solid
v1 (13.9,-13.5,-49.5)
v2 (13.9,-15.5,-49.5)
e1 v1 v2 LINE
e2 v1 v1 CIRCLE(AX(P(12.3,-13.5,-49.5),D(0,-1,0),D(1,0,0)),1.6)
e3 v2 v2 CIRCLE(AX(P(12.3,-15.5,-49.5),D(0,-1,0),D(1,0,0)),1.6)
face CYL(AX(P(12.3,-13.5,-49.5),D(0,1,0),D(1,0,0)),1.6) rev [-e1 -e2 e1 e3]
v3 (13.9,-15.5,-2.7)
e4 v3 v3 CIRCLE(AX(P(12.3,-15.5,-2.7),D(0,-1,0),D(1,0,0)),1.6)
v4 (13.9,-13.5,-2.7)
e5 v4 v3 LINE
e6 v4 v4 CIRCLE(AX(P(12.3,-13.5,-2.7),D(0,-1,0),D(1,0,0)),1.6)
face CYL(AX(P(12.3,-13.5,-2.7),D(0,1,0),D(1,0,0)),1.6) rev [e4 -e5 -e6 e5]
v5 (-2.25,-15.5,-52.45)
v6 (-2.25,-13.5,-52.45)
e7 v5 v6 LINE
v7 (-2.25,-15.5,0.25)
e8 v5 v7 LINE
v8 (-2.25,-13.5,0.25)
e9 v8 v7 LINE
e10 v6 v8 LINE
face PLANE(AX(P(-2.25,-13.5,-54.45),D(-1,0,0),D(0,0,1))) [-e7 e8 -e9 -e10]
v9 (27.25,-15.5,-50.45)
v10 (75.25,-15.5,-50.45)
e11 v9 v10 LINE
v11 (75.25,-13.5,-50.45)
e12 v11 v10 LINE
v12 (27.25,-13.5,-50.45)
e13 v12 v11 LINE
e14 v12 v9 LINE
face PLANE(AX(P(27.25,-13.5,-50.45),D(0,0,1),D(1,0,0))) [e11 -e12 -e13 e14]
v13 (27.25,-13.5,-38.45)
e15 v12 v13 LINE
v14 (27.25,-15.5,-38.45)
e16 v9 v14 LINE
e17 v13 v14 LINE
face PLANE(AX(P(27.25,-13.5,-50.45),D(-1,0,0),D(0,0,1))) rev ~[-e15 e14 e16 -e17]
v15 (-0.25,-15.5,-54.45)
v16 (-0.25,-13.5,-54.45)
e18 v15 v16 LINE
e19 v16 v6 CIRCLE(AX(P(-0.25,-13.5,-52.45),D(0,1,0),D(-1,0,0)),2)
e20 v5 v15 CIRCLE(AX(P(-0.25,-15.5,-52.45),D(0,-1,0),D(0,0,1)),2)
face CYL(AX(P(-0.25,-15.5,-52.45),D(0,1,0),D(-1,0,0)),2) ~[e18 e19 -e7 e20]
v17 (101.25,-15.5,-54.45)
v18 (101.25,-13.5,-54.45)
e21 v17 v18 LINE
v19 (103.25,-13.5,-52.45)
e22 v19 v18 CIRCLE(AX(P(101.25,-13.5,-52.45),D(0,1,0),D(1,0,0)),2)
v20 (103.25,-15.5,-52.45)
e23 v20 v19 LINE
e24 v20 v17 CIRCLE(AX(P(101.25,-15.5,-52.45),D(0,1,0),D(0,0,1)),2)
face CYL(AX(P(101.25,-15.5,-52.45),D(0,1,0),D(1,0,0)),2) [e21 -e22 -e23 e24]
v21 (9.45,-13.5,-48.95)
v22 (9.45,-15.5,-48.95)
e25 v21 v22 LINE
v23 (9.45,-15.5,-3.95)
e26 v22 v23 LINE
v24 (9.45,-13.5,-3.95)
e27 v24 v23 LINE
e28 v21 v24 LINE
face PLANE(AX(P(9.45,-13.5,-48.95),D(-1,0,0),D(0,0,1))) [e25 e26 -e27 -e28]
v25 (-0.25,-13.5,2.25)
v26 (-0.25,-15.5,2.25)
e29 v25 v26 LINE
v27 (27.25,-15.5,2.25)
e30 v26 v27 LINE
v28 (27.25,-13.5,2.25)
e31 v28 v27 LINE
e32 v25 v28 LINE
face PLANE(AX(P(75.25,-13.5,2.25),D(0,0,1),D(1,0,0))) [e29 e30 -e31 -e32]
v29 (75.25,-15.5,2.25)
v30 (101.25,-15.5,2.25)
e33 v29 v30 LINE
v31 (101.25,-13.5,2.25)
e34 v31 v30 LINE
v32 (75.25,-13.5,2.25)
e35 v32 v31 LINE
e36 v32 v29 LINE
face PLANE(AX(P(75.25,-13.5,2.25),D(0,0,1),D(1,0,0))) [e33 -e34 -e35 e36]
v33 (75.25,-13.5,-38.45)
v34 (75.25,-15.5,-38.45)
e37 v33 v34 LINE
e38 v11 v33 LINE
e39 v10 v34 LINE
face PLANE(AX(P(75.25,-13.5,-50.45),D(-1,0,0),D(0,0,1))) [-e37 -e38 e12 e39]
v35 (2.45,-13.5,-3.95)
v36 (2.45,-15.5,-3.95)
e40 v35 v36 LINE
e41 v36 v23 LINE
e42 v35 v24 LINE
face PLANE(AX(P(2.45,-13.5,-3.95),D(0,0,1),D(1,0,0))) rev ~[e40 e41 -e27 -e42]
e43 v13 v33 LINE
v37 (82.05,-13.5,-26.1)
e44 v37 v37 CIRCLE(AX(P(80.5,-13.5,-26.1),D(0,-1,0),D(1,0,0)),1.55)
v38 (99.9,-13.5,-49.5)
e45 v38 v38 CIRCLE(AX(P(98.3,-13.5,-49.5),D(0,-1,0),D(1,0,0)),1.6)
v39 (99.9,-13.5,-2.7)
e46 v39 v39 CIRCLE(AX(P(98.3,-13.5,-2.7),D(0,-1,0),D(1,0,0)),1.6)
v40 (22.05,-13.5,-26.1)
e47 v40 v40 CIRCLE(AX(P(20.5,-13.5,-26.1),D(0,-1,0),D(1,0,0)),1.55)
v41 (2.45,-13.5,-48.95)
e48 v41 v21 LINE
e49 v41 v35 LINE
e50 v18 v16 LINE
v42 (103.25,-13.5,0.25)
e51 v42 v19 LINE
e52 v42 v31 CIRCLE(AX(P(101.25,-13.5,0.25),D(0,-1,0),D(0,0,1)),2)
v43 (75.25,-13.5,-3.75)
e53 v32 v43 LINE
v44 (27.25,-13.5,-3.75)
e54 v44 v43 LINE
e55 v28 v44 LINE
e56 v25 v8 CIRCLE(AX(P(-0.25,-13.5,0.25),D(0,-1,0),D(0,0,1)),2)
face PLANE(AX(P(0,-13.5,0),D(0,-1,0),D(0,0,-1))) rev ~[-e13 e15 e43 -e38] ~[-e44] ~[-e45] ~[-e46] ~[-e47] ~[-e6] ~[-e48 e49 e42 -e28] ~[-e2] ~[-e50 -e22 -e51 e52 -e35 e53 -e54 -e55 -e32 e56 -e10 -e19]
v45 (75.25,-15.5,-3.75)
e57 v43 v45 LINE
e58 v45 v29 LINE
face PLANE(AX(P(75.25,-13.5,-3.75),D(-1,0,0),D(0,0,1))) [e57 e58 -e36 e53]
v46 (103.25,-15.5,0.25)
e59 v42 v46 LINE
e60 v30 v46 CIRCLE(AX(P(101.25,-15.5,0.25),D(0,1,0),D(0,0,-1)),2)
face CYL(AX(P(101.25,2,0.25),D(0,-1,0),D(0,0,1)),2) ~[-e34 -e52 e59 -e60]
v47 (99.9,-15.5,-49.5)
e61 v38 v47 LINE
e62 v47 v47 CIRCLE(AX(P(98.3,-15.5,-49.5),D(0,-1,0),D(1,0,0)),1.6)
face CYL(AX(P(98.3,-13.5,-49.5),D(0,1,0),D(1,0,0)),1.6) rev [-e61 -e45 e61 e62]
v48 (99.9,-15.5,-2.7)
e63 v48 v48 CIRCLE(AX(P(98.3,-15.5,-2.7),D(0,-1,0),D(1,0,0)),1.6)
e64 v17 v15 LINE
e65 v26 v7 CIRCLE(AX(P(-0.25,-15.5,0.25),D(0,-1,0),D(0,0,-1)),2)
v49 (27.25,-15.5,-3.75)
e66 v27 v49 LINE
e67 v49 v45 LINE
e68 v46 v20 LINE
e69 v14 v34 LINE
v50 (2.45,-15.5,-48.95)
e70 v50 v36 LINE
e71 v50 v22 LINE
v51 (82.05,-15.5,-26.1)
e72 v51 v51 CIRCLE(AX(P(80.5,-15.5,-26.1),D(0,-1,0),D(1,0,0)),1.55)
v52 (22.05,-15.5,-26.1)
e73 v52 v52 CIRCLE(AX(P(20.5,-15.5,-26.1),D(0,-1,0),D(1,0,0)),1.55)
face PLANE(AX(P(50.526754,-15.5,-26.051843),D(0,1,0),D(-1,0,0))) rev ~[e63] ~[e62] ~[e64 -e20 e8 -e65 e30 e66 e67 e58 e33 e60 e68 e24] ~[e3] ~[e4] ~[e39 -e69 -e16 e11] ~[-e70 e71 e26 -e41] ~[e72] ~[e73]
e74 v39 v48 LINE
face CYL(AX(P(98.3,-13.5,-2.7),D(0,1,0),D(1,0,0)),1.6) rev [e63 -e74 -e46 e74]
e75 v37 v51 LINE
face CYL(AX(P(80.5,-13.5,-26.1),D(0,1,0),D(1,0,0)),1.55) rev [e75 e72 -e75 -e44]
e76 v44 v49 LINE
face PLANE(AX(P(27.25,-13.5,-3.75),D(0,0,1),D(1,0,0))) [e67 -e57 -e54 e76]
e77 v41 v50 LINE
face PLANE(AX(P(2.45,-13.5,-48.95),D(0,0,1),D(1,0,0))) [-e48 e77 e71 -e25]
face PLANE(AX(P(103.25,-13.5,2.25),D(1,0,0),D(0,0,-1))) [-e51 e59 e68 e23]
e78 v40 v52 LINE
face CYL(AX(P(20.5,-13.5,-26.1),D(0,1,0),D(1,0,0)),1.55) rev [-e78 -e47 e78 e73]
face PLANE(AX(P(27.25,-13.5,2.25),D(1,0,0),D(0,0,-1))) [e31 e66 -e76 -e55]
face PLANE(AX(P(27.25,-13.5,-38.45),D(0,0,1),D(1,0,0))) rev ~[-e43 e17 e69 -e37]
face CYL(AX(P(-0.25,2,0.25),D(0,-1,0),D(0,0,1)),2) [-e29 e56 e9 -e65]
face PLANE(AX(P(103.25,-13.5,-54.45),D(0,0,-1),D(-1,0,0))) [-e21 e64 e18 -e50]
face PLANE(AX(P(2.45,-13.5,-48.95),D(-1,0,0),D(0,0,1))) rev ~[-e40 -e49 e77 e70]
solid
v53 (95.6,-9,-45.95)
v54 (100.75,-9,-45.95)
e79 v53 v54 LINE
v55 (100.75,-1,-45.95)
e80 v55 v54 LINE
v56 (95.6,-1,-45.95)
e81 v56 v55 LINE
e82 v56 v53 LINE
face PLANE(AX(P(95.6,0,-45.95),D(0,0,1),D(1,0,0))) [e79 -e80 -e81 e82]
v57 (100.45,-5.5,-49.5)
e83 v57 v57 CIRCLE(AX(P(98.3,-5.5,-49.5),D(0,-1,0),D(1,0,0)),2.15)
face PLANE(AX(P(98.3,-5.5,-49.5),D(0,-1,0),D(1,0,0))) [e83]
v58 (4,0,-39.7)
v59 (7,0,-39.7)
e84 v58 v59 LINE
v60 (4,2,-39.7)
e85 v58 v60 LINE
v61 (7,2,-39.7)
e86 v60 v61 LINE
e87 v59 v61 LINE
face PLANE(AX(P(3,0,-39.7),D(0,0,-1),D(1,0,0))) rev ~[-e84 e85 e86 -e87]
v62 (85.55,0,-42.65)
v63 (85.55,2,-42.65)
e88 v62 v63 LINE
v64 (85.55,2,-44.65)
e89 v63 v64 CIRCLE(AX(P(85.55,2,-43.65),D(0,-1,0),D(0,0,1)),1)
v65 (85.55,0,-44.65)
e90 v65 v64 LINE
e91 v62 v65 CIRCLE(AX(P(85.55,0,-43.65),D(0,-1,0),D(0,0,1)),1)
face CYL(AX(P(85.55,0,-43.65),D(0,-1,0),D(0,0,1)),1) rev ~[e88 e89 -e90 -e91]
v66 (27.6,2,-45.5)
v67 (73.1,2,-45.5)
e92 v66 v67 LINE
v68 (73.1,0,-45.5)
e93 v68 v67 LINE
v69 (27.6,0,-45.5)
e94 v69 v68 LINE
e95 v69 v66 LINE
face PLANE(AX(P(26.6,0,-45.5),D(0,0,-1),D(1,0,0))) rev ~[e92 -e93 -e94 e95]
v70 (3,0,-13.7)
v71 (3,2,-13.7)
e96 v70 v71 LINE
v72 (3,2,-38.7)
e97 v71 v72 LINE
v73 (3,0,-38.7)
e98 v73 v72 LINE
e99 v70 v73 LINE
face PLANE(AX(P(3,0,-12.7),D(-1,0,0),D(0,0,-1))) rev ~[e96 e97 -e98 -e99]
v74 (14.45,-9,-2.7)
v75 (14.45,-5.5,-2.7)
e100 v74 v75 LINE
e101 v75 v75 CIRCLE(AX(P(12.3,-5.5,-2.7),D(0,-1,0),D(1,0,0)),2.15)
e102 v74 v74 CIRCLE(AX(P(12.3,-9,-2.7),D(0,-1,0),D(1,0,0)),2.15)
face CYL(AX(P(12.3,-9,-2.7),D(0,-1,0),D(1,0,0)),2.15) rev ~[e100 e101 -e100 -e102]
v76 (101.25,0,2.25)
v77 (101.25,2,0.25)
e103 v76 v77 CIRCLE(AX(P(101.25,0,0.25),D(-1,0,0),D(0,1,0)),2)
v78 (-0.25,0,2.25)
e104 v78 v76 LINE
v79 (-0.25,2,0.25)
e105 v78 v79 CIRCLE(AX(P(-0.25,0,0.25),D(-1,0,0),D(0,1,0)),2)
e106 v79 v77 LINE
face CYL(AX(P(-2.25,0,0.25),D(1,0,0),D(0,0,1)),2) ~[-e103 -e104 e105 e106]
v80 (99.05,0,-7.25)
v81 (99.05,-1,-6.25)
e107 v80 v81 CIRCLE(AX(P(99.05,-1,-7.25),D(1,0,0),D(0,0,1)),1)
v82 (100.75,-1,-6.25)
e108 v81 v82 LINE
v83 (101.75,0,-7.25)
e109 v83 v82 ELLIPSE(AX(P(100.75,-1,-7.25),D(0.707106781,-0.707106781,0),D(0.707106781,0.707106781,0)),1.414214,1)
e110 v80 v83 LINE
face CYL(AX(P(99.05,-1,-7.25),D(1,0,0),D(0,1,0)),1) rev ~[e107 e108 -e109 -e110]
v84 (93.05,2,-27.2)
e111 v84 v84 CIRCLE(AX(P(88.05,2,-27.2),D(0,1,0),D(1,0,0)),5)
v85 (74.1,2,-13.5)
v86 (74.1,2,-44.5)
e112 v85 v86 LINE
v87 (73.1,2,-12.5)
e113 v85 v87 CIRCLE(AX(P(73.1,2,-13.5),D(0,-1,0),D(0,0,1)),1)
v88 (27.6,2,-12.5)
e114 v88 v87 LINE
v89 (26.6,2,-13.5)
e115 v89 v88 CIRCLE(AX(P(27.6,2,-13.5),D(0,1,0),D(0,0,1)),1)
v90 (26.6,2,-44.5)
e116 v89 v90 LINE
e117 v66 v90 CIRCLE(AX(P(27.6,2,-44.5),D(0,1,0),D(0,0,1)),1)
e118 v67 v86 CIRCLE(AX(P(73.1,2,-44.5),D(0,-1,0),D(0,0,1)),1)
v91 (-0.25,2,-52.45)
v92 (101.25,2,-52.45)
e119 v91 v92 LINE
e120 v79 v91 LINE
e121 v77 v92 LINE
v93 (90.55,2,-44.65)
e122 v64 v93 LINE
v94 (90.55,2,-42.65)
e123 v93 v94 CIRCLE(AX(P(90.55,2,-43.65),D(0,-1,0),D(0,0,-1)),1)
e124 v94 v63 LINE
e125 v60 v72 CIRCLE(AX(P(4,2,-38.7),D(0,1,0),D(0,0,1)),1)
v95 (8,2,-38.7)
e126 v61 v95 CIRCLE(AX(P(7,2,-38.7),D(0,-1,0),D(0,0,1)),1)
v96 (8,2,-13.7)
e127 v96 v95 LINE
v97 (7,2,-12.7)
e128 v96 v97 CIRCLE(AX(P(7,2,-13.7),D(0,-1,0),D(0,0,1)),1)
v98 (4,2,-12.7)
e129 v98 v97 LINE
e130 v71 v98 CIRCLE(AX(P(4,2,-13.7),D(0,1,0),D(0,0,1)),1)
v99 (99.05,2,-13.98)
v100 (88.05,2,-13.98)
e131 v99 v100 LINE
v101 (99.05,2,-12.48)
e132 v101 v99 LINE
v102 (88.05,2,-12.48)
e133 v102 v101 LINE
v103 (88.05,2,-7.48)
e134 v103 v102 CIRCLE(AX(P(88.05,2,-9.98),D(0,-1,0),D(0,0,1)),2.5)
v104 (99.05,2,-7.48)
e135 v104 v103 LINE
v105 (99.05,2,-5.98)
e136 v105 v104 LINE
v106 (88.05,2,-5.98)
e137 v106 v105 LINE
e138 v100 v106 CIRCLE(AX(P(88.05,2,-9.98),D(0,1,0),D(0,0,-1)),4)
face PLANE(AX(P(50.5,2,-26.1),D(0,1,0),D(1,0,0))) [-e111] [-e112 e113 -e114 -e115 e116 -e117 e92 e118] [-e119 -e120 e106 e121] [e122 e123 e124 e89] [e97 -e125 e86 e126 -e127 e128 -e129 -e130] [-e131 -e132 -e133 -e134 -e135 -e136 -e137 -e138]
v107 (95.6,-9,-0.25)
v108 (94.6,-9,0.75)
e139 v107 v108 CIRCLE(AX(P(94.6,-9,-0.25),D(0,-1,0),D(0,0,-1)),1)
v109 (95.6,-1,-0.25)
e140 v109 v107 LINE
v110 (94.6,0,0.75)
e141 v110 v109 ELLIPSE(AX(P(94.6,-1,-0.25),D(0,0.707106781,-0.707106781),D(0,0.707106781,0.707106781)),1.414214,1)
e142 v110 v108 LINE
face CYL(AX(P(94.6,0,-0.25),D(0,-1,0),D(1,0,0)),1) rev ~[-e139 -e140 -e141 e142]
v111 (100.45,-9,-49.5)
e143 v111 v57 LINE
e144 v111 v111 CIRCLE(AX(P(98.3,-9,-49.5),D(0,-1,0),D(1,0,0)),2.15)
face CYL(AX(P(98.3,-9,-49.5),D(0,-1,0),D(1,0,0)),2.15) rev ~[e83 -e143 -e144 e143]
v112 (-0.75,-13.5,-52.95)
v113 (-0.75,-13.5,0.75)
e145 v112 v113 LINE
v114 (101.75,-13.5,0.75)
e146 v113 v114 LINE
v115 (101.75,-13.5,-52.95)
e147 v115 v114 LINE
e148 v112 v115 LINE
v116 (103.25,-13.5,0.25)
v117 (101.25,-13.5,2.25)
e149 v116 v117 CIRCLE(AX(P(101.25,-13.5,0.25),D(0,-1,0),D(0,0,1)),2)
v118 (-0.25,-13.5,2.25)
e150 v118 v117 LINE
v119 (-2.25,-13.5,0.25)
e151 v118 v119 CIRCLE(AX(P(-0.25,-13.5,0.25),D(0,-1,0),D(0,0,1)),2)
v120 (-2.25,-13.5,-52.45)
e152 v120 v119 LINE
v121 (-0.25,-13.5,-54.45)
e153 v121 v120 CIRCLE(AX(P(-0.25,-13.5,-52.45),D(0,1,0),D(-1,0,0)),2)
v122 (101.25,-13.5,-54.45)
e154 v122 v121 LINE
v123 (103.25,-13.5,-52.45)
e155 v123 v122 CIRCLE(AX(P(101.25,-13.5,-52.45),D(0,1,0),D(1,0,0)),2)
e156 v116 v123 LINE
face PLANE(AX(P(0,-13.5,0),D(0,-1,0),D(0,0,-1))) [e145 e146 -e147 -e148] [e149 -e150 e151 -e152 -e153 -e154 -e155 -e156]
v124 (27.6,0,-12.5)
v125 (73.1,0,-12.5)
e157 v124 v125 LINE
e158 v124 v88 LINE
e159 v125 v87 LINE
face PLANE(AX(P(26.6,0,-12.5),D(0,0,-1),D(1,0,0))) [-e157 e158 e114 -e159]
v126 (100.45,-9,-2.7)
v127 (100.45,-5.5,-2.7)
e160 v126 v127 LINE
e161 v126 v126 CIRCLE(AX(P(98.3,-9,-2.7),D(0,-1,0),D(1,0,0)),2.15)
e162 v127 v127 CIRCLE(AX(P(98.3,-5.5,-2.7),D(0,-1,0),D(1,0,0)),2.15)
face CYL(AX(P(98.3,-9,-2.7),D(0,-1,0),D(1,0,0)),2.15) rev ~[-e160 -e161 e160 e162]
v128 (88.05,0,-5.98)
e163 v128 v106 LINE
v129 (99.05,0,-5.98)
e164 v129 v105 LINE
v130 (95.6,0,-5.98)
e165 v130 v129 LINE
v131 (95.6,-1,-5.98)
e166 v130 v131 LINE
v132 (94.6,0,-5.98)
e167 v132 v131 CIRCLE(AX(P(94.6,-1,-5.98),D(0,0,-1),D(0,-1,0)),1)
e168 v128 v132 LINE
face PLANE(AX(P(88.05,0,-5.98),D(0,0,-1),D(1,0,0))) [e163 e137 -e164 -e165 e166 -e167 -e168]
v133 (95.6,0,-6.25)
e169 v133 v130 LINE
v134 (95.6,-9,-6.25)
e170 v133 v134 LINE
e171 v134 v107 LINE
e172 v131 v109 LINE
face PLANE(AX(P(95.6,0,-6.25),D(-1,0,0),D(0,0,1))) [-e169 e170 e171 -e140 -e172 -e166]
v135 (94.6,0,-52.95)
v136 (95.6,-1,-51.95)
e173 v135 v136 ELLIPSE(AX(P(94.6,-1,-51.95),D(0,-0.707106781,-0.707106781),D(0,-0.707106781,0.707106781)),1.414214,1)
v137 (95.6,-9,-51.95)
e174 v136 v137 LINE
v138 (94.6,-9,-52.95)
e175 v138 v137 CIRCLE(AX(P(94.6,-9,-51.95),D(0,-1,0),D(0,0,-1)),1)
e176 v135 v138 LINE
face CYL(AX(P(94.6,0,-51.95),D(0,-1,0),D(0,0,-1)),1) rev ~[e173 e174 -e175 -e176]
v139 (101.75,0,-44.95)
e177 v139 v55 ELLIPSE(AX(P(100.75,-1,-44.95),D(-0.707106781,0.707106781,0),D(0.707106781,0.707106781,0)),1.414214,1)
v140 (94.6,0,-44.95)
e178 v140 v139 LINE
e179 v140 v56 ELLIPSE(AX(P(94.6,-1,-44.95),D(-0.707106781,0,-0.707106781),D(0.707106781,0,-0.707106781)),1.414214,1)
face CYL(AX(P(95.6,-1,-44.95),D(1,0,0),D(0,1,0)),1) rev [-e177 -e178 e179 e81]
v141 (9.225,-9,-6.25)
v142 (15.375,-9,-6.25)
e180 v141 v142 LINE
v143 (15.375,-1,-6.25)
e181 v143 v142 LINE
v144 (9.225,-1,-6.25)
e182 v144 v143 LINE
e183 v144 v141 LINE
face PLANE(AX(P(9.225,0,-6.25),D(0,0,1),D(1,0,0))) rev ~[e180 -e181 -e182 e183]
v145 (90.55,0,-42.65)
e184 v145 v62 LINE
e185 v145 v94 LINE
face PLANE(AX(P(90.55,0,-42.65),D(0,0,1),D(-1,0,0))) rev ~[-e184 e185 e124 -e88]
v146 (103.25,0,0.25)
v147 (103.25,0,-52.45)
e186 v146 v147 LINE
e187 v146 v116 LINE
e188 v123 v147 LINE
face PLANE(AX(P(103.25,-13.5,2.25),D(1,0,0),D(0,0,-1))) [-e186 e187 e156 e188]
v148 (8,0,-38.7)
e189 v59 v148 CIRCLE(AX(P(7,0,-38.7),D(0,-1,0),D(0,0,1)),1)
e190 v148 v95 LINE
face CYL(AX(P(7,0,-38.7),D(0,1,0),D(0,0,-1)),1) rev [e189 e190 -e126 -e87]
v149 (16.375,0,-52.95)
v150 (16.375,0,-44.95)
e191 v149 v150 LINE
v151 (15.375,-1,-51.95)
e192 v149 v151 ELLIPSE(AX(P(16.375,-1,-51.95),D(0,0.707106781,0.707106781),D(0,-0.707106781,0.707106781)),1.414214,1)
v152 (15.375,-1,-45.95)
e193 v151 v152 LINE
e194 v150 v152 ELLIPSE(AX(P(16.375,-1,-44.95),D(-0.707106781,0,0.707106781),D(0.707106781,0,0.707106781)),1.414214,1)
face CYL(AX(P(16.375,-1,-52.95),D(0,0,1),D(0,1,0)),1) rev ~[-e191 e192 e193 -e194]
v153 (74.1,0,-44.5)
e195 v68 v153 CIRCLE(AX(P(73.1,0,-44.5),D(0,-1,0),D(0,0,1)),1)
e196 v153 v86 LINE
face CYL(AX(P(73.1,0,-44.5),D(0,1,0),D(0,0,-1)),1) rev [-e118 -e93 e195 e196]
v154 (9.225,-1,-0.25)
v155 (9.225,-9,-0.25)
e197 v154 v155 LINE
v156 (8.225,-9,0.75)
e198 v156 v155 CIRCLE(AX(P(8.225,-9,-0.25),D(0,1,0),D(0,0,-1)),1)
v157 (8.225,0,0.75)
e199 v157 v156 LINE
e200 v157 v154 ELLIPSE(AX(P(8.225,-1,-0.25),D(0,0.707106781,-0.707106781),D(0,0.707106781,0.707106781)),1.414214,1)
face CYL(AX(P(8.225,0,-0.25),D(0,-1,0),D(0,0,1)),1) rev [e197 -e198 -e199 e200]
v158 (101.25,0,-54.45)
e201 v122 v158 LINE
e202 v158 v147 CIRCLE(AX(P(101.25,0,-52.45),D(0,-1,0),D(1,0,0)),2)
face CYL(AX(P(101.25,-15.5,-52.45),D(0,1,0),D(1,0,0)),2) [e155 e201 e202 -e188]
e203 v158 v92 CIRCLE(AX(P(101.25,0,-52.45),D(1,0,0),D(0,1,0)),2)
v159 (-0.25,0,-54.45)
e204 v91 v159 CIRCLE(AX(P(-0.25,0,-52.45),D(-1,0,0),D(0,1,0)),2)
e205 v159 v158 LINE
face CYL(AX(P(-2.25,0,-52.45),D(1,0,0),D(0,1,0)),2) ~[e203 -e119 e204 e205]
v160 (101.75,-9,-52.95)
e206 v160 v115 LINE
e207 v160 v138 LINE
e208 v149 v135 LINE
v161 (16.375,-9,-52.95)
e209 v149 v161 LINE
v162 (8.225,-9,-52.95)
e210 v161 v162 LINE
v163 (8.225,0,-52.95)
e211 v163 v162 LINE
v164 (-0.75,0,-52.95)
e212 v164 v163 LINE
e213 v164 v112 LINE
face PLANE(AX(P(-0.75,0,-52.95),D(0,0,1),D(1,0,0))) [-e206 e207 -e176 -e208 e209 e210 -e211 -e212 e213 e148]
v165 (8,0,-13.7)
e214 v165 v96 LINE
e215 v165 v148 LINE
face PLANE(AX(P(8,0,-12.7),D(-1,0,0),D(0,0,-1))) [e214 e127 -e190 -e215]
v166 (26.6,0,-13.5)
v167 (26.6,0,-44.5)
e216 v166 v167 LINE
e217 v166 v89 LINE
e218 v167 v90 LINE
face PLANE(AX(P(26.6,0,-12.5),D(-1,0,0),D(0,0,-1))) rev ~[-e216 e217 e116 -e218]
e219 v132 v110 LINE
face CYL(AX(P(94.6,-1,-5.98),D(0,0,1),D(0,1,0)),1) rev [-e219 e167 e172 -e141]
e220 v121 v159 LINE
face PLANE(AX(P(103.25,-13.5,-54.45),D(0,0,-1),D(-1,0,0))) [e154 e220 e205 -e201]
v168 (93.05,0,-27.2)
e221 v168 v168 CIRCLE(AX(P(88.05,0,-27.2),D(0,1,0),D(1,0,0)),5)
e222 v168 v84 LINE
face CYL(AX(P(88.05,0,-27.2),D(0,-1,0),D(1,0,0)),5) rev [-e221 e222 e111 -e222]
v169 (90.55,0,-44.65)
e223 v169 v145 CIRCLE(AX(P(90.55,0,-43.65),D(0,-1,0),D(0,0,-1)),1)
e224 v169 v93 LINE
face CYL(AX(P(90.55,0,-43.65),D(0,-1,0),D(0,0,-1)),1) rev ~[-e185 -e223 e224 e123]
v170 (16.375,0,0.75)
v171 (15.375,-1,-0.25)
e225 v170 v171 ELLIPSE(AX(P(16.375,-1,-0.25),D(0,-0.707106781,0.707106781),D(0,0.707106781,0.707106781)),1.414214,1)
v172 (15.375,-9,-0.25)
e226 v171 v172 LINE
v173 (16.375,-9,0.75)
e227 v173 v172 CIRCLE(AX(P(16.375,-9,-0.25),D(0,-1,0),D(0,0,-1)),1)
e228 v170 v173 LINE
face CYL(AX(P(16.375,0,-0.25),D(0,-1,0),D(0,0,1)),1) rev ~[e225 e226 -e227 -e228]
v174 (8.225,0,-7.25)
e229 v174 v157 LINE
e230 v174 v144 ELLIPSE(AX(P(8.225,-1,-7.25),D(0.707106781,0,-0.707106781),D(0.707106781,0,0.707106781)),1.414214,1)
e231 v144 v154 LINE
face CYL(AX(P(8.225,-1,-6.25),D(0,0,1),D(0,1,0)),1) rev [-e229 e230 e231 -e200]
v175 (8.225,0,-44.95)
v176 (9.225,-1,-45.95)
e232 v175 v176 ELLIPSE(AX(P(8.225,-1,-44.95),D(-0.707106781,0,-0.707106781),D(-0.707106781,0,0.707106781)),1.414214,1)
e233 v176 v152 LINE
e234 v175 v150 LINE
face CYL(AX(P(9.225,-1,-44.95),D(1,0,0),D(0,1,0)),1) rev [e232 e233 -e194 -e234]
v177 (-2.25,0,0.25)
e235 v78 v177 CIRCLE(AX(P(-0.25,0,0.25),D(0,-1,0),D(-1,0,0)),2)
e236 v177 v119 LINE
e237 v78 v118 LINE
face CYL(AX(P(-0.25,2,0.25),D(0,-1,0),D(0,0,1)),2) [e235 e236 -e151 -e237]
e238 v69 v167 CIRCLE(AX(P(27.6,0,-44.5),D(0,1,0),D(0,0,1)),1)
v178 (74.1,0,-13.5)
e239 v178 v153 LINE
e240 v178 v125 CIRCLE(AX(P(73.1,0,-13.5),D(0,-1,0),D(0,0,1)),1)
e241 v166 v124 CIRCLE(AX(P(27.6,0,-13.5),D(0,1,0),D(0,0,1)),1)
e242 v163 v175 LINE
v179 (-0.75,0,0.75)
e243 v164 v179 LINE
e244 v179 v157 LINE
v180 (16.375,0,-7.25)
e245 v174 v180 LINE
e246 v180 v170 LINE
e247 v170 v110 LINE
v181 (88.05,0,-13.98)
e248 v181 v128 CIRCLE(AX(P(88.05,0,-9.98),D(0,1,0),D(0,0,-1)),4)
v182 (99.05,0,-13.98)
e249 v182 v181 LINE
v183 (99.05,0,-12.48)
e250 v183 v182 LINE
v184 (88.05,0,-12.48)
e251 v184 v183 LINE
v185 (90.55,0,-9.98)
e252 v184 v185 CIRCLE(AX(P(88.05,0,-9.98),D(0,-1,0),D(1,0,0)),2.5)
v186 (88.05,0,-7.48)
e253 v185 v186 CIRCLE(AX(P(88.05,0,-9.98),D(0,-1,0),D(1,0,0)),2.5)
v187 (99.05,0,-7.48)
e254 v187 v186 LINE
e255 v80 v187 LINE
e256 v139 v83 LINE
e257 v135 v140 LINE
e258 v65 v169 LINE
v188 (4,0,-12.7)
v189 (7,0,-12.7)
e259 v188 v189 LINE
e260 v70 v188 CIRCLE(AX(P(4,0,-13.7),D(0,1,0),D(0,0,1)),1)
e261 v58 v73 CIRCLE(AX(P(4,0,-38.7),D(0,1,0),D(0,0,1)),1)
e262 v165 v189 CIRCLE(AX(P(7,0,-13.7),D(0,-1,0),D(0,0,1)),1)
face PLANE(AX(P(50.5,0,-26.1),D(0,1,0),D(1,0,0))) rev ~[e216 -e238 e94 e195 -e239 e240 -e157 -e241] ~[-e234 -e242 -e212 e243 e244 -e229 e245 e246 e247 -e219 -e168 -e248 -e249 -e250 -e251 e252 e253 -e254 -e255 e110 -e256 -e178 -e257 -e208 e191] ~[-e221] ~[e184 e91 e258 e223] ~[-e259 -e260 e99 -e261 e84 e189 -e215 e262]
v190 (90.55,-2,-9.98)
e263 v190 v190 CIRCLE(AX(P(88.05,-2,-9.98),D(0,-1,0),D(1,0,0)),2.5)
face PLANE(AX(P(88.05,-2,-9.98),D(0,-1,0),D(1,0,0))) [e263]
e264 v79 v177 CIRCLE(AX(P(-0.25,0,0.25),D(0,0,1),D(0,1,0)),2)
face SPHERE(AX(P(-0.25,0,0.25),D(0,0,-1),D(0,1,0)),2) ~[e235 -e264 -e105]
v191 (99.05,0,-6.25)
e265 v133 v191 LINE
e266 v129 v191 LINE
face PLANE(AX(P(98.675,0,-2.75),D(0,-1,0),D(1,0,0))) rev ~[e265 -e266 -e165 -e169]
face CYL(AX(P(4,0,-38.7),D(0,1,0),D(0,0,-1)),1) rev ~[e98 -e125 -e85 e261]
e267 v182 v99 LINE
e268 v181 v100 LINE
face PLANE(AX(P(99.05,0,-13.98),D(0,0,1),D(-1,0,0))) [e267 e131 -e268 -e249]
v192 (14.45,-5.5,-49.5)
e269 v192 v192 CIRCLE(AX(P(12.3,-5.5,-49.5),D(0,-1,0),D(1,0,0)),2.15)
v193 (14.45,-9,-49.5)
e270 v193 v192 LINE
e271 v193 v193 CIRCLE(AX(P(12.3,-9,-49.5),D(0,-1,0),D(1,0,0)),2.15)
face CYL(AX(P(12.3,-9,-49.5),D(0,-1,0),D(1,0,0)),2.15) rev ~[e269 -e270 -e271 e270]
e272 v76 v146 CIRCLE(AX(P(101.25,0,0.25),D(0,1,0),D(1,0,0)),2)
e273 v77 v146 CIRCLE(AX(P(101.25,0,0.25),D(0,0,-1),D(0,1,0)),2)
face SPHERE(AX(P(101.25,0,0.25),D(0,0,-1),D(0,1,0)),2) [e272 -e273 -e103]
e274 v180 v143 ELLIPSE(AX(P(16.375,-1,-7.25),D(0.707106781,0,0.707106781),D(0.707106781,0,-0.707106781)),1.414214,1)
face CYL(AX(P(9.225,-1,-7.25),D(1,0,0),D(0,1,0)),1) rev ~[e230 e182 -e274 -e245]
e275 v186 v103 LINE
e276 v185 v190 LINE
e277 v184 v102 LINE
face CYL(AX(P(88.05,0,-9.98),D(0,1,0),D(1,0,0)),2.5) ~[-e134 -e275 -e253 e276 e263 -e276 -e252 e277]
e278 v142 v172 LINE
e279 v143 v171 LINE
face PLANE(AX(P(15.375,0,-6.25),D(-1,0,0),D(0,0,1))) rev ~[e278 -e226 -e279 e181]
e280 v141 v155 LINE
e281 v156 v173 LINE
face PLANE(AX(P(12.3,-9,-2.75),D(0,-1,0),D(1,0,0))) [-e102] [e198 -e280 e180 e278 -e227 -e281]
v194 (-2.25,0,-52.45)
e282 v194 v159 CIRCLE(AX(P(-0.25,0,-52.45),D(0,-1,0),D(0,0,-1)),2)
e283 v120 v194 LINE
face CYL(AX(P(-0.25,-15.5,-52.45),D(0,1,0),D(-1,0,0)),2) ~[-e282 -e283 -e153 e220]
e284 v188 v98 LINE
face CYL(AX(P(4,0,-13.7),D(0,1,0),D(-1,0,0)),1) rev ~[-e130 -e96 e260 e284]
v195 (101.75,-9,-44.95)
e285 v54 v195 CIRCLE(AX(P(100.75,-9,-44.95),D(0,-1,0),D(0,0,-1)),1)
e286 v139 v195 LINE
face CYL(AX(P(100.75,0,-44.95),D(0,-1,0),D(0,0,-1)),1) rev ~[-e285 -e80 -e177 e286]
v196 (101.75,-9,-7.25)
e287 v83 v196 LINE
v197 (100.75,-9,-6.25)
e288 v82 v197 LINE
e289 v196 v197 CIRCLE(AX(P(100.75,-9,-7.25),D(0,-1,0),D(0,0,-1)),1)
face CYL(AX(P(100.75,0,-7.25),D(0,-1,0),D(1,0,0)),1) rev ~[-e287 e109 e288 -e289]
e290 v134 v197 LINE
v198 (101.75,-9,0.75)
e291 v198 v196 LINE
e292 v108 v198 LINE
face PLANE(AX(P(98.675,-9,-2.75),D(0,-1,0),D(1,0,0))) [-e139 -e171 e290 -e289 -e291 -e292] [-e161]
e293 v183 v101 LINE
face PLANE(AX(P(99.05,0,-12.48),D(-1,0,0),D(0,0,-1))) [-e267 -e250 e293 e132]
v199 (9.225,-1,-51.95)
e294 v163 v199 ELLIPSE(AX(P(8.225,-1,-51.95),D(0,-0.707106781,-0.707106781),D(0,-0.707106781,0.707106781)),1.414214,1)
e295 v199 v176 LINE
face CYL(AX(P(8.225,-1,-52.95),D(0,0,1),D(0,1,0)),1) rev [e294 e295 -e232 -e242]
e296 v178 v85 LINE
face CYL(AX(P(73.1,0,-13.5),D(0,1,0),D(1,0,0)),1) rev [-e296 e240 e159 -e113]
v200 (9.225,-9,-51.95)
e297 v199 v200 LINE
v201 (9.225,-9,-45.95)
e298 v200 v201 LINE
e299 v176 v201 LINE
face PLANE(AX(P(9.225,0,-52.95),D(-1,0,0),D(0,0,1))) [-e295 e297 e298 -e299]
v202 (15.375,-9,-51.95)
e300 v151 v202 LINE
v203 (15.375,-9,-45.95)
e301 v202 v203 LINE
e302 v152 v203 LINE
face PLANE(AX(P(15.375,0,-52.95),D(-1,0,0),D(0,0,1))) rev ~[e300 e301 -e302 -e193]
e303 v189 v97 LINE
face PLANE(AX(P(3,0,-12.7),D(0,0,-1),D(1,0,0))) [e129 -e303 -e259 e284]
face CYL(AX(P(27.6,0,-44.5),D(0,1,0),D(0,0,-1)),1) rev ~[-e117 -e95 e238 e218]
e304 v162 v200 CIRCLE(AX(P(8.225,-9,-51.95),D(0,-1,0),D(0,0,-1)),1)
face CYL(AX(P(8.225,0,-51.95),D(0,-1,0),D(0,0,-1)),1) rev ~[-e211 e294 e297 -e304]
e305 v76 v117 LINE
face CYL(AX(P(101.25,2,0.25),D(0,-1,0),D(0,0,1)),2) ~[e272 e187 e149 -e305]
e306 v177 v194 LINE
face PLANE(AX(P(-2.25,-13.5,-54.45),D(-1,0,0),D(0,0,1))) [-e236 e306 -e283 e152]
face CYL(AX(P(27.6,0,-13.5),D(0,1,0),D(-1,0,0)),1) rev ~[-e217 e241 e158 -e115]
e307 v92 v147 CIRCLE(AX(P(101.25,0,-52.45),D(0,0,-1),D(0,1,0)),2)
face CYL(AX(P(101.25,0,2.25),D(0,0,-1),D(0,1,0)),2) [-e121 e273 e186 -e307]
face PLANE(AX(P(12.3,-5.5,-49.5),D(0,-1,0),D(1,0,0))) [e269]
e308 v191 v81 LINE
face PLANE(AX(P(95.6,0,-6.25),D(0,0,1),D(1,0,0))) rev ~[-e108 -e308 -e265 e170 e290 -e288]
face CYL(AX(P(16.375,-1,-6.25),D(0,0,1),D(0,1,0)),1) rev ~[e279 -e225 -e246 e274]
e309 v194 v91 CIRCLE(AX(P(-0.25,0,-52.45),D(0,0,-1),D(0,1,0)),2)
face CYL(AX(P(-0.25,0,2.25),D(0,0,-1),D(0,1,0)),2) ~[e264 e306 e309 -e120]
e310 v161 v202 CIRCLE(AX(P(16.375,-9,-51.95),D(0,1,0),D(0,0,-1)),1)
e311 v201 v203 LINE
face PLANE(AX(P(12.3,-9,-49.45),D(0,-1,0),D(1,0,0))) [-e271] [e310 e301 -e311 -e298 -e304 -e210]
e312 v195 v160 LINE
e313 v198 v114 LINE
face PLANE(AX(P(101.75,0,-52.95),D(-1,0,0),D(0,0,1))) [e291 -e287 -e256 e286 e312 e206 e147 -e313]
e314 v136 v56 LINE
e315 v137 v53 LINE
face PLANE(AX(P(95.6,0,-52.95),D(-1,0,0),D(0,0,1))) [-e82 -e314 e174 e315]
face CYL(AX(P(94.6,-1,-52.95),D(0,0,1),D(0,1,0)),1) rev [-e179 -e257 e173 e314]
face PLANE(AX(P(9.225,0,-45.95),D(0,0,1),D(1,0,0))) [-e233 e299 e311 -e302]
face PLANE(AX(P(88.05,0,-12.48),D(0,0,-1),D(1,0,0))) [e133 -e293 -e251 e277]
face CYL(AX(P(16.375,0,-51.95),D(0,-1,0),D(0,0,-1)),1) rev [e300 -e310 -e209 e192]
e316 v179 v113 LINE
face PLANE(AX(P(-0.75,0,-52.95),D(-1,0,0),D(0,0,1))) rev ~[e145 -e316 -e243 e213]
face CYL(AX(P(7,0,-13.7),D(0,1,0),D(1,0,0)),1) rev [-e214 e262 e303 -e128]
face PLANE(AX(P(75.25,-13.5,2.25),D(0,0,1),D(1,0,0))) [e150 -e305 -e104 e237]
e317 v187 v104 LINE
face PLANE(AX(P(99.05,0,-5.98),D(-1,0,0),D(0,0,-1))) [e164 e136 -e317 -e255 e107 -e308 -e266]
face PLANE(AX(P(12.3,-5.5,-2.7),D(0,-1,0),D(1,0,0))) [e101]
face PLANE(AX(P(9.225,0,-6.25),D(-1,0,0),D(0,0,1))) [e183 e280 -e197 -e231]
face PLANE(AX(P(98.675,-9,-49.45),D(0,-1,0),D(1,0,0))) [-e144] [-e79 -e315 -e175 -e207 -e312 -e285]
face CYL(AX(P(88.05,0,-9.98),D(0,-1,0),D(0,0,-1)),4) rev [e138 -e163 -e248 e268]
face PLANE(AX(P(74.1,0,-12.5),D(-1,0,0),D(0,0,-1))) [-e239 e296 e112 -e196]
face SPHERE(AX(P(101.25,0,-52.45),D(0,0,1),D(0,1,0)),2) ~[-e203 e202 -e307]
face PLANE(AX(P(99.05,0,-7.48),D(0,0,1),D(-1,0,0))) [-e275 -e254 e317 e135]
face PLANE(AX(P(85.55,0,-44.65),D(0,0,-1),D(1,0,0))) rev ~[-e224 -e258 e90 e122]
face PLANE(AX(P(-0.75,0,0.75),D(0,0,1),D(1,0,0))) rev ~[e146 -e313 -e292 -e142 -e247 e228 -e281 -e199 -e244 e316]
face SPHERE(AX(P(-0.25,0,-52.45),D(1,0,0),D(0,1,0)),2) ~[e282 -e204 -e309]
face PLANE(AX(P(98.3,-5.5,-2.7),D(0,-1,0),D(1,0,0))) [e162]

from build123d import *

# Parameters (mm, degrees)
CROQUIS1_W               = 105.5
CROQUIS1_H               = 56.7
CROQUIS1_R               = 5
CROQUIS1_W_2             = 47.5
CROQUIS1_H_2             = 33
CROQUIS1_W_3             = 5
CROQUIS1_H_3             = 27
SALIENTE_EXTRUIR1_DEPTH  = 2
CROQUIS5_W               = 105.5
CROQUIS5_H               = 56.7
CROQUIS5_W_2             = 102.5
CROQUIS5_H_2             = 53.7
SALIENTE_EXTRUIR4_DEPTH  = 13.5
CROQUIS6_R               = 1.6
CROQUIS6_R_2             = 1.55
CROQUIS6_W               = 7
CROQUIS6_H               = 45
CROQUIS6_W_2             = 48
CROQUIS6_H_2             = 12
SALIENTE_EXTRUIR5_DEPTH  = 2
CROQUIS8_W               = 6.15
CROQUIS8_H               = 7
SALIENTE_EXTRUIR13_DEPTH = 9
CROQUIS9_R               = 2.15
CORTAR_EXTRUIR2_DEPTH    = 3.5
REDONDEO4_R              = 2
REDONDEO6_R              = 1
REDONDEO7_R              = 1
CROQUIS10_R              = 2.5
SALIENTE_EXTRUIR14_DEPTH = 2


with BuildPart() as part:
    # Croquis1 → Saliente-Extruir1 (new body)
    with BuildSketch(Plane(origin=(0, 0, 0), x_dir=(1, 0, 0), z_dir=(0, 1, 0))):
        with Locations((50.5, 26.1)):
            Rectangle(CROQUIS1_W, CROQUIS1_H)
        with Locations((88.05, 27.2)):
            Circle(CROQUIS1_R, mode=Mode.SUBTRACT)
        with Locations((50.35, 29)):
            Rectangle(CROQUIS1_W_2, CROQUIS1_H_2, mode=Mode.SUBTRACT)
        with Locations((5.5, 26.2)):
            Rectangle(CROQUIS1_W_3, CROQUIS1_H_3, mode=Mode.SUBTRACT)
        with BuildLine():
            Line((88.05, 12.48), (99.05, 12.48))
            Line((99.05, 12.48), (99.05, 13.98))
            Line((99.05, 13.98), (88.05, 13.98))
            ThreePointArc((88.05, 13.98), (84.05, 9.98), (88.05, 5.98))
            Line((88.05, 5.98), (99.05, 5.98))
            Line((99.05, 5.98), (99.05, 7.48))
            Line((99.05, 7.48), (88.05, 7.48))
            ThreePointArc((88.05, 7.48), (85.55, 9.98), (88.05, 12.48))
        make_face(mode=Mode.SUBTRACT)
        with BuildLine():
            Line((90.55, 42.65), (85.55, 42.65))
            ThreePointArc((85.55, 42.65), (84.55, 43.65), (85.55, 44.65))
            Line((85.55, 44.65), (90.55, 44.65))
            ThreePointArc((90.55, 44.65), (91.55, 43.65), (90.55, 42.65))
        make_face(mode=Mode.SUBTRACT)
    extrude(amount=SALIENTE_EXTRUIR1_DEPTH)

    # Croquis5 → Saliente-Extruir4 (add)
    with BuildSketch(Plane.XZ):
        with Locations((50.5, -26.1)):
            Rectangle(CROQUIS5_W, CROQUIS5_H)
        with Locations((50.5, -26.1)):
            Rectangle(CROQUIS5_W_2, CROQUIS5_H_2, mode=Mode.SUBTRACT)
    extrude(amount=SALIENTE_EXTRUIR4_DEPTH)

    # Croquis6 → Saliente-Extruir5 (add)
    with BuildSketch(Plane.XZ.offset(13.5)):
        Polygon((103.25, 2.25), (103.25, -54.45), (-2.25, -54.45), (-2.25, 2.25), (27.25, 2.25), (27.25, -3.75), (75.25, -3.75), (75.25, 2.25), align=None)
        with Locations((12.3, -49.5)):
            Circle(CROQUIS6_R, mode=Mode.SUBTRACT)
        with Locations((98.3, -2.7)):
            Circle(CROQUIS6_R, mode=Mode.SUBTRACT)
        with Locations((98.3, -49.5)):
            Circle(CROQUIS6_R, mode=Mode.SUBTRACT)
        with Locations((12.3, -2.7)):
            Circle(CROQUIS6_R, mode=Mode.SUBTRACT)
        with Locations((80.5, -26.1)):
            Circle(CROQUIS6_R_2, mode=Mode.SUBTRACT)
        with Locations((20.5, -26.1)):
            Circle(CROQUIS6_R_2, mode=Mode.SUBTRACT)
        with Locations((5.95, -26.45)):
            Rectangle(CROQUIS6_W, CROQUIS6_H, mode=Mode.SUBTRACT)
        with Locations((51.25, -44.45)):
            Rectangle(CROQUIS6_W_2, CROQUIS6_H_2, mode=Mode.SUBTRACT)
    extrude(amount=SALIENTE_EXTRUIR5_DEPTH)

    # Croquis8 → Saliente-Extruir13 (add)
    with BuildSketch(Plane.XZ):
        with Locations((12.3, -2.75)):
            Rectangle(CROQUIS8_W, CROQUIS8_H)
        with Locations((98.675, -2.75)):
            Rectangle(CROQUIS8_W, CROQUIS8_H)
        with Locations((12.3, -49.45)):
            Rectangle(CROQUIS8_W, CROQUIS8_H)
        with Locations((98.675, -49.45)):
            Rectangle(CROQUIS8_W, CROQUIS8_H)
    extrude(amount=SALIENTE_EXTRUIR13_DEPTH)

    # Croquis9 → Cortar-Extruir2 (cut)
    with BuildSketch(Plane.XZ.offset(9)):
        with Locations((12.3, -2.7)):
            Circle(CROQUIS9_R)
        with Locations((98.3, -2.7)):
            Circle(CROQUIS9_R)
        with Locations((98.3, -49.5)):
            Circle(CROQUIS9_R)
        with Locations((12.3, -49.5)):
            Circle(CROQUIS9_R)
    extrude(amount=-CORTAR_EXTRUIR2_DEPTH, mode=Mode.SUBTRACT)

    # Redondeo4
    redondeo4_edges = [part.edges().sort_by_distance(p)[0] for p in [
        (103.25, 2, -26.1),
        (50.5, 2, -54.45),
        (-2.25, 2, -26.1),
        (50.5, 2, 2.25),
        (-2.25, -6.75, -54.45),
        (103.25, -6.75, -54.45),
        (103.25, -6.75, 2.25),
        (-2.25, -6.75, 2.25),
    ]]
    fillet(redondeo4_edges, radius=REDONDEO4_R)


with BuildPart() as body_2:
    # Partir1: the piece on the far side of the plane
    add(part.part)
    split(bisect_by=Plane(origin=(0, -13.5, 0), x_dir=(0, 0, -1), z_dir=(0, -1, 0)), keep=Keep.BOTTOM)

    # Redondeo6
    redondeo6_edges = [body_2.edges().sort_by_distance(p)[0] for p in [
        (3, 1, -39.7),
        (8, 1, -39.7),
        (8, 1, -12.7),
        (3, 1, -12.7),
        (26.6, 1, -45.5),
        (74.1, 1, -45.5),
        (74.1, 1, -12.5),
        (26.6, 1, -12.5),
    ]]
    fillet(redondeo6_edges, radius=REDONDEO6_R)

    # Redondeo7
    redondeo7_edges = [body_2.edges().sort_by_distance(p)[0] for p in [
        (95.6, 0, -2.615),
        (100.4, 0, -6.25),
        (101.75, -4.5, -6.25),
        (95.6, -4.5, 0.75),
        (98.675, 0, -45.95),
        (95.6, 0, -49.45),
        (95.6, -4.5, -52.95),
        (101.75, -4.5, -45.95),
        (9.225, 0, -49.45),
        (15.375, 0, -49.45),
        (12.3, 0, -45.95),
        (15.375, -4.5, -52.95),
        (9.225, -4.5, -52.95),
        (9.225, 0, -2.75),
        (12.3, 0, -6.25),
        (15.375, 0, -2.75),
        (15.375, -4.5, 0.75),
        (9.225, -4.5, 0.75),
    ]]
    fillet(redondeo7_edges, radius=REDONDEO7_R)

    # Croquis10 → Saliente-Extruir14 (add)
    with BuildSketch(Plane.XZ):
        with Locations((88.05, -9.98)):
            Circle(CROQUIS10_R)
    extrude(amount=SALIENTE_EXTRUIR14_DEPTH)


with BuildPart() as part_1:
    add(part.part)

    # Partir1
    split(bisect_by=Plane(origin=(0, -13.5, 0), x_dir=(0, 0, -1), z_dir=(0, -1, 0)), keep=Keep.TOP)


solid = Compound([body_2.part, part_1.part])
